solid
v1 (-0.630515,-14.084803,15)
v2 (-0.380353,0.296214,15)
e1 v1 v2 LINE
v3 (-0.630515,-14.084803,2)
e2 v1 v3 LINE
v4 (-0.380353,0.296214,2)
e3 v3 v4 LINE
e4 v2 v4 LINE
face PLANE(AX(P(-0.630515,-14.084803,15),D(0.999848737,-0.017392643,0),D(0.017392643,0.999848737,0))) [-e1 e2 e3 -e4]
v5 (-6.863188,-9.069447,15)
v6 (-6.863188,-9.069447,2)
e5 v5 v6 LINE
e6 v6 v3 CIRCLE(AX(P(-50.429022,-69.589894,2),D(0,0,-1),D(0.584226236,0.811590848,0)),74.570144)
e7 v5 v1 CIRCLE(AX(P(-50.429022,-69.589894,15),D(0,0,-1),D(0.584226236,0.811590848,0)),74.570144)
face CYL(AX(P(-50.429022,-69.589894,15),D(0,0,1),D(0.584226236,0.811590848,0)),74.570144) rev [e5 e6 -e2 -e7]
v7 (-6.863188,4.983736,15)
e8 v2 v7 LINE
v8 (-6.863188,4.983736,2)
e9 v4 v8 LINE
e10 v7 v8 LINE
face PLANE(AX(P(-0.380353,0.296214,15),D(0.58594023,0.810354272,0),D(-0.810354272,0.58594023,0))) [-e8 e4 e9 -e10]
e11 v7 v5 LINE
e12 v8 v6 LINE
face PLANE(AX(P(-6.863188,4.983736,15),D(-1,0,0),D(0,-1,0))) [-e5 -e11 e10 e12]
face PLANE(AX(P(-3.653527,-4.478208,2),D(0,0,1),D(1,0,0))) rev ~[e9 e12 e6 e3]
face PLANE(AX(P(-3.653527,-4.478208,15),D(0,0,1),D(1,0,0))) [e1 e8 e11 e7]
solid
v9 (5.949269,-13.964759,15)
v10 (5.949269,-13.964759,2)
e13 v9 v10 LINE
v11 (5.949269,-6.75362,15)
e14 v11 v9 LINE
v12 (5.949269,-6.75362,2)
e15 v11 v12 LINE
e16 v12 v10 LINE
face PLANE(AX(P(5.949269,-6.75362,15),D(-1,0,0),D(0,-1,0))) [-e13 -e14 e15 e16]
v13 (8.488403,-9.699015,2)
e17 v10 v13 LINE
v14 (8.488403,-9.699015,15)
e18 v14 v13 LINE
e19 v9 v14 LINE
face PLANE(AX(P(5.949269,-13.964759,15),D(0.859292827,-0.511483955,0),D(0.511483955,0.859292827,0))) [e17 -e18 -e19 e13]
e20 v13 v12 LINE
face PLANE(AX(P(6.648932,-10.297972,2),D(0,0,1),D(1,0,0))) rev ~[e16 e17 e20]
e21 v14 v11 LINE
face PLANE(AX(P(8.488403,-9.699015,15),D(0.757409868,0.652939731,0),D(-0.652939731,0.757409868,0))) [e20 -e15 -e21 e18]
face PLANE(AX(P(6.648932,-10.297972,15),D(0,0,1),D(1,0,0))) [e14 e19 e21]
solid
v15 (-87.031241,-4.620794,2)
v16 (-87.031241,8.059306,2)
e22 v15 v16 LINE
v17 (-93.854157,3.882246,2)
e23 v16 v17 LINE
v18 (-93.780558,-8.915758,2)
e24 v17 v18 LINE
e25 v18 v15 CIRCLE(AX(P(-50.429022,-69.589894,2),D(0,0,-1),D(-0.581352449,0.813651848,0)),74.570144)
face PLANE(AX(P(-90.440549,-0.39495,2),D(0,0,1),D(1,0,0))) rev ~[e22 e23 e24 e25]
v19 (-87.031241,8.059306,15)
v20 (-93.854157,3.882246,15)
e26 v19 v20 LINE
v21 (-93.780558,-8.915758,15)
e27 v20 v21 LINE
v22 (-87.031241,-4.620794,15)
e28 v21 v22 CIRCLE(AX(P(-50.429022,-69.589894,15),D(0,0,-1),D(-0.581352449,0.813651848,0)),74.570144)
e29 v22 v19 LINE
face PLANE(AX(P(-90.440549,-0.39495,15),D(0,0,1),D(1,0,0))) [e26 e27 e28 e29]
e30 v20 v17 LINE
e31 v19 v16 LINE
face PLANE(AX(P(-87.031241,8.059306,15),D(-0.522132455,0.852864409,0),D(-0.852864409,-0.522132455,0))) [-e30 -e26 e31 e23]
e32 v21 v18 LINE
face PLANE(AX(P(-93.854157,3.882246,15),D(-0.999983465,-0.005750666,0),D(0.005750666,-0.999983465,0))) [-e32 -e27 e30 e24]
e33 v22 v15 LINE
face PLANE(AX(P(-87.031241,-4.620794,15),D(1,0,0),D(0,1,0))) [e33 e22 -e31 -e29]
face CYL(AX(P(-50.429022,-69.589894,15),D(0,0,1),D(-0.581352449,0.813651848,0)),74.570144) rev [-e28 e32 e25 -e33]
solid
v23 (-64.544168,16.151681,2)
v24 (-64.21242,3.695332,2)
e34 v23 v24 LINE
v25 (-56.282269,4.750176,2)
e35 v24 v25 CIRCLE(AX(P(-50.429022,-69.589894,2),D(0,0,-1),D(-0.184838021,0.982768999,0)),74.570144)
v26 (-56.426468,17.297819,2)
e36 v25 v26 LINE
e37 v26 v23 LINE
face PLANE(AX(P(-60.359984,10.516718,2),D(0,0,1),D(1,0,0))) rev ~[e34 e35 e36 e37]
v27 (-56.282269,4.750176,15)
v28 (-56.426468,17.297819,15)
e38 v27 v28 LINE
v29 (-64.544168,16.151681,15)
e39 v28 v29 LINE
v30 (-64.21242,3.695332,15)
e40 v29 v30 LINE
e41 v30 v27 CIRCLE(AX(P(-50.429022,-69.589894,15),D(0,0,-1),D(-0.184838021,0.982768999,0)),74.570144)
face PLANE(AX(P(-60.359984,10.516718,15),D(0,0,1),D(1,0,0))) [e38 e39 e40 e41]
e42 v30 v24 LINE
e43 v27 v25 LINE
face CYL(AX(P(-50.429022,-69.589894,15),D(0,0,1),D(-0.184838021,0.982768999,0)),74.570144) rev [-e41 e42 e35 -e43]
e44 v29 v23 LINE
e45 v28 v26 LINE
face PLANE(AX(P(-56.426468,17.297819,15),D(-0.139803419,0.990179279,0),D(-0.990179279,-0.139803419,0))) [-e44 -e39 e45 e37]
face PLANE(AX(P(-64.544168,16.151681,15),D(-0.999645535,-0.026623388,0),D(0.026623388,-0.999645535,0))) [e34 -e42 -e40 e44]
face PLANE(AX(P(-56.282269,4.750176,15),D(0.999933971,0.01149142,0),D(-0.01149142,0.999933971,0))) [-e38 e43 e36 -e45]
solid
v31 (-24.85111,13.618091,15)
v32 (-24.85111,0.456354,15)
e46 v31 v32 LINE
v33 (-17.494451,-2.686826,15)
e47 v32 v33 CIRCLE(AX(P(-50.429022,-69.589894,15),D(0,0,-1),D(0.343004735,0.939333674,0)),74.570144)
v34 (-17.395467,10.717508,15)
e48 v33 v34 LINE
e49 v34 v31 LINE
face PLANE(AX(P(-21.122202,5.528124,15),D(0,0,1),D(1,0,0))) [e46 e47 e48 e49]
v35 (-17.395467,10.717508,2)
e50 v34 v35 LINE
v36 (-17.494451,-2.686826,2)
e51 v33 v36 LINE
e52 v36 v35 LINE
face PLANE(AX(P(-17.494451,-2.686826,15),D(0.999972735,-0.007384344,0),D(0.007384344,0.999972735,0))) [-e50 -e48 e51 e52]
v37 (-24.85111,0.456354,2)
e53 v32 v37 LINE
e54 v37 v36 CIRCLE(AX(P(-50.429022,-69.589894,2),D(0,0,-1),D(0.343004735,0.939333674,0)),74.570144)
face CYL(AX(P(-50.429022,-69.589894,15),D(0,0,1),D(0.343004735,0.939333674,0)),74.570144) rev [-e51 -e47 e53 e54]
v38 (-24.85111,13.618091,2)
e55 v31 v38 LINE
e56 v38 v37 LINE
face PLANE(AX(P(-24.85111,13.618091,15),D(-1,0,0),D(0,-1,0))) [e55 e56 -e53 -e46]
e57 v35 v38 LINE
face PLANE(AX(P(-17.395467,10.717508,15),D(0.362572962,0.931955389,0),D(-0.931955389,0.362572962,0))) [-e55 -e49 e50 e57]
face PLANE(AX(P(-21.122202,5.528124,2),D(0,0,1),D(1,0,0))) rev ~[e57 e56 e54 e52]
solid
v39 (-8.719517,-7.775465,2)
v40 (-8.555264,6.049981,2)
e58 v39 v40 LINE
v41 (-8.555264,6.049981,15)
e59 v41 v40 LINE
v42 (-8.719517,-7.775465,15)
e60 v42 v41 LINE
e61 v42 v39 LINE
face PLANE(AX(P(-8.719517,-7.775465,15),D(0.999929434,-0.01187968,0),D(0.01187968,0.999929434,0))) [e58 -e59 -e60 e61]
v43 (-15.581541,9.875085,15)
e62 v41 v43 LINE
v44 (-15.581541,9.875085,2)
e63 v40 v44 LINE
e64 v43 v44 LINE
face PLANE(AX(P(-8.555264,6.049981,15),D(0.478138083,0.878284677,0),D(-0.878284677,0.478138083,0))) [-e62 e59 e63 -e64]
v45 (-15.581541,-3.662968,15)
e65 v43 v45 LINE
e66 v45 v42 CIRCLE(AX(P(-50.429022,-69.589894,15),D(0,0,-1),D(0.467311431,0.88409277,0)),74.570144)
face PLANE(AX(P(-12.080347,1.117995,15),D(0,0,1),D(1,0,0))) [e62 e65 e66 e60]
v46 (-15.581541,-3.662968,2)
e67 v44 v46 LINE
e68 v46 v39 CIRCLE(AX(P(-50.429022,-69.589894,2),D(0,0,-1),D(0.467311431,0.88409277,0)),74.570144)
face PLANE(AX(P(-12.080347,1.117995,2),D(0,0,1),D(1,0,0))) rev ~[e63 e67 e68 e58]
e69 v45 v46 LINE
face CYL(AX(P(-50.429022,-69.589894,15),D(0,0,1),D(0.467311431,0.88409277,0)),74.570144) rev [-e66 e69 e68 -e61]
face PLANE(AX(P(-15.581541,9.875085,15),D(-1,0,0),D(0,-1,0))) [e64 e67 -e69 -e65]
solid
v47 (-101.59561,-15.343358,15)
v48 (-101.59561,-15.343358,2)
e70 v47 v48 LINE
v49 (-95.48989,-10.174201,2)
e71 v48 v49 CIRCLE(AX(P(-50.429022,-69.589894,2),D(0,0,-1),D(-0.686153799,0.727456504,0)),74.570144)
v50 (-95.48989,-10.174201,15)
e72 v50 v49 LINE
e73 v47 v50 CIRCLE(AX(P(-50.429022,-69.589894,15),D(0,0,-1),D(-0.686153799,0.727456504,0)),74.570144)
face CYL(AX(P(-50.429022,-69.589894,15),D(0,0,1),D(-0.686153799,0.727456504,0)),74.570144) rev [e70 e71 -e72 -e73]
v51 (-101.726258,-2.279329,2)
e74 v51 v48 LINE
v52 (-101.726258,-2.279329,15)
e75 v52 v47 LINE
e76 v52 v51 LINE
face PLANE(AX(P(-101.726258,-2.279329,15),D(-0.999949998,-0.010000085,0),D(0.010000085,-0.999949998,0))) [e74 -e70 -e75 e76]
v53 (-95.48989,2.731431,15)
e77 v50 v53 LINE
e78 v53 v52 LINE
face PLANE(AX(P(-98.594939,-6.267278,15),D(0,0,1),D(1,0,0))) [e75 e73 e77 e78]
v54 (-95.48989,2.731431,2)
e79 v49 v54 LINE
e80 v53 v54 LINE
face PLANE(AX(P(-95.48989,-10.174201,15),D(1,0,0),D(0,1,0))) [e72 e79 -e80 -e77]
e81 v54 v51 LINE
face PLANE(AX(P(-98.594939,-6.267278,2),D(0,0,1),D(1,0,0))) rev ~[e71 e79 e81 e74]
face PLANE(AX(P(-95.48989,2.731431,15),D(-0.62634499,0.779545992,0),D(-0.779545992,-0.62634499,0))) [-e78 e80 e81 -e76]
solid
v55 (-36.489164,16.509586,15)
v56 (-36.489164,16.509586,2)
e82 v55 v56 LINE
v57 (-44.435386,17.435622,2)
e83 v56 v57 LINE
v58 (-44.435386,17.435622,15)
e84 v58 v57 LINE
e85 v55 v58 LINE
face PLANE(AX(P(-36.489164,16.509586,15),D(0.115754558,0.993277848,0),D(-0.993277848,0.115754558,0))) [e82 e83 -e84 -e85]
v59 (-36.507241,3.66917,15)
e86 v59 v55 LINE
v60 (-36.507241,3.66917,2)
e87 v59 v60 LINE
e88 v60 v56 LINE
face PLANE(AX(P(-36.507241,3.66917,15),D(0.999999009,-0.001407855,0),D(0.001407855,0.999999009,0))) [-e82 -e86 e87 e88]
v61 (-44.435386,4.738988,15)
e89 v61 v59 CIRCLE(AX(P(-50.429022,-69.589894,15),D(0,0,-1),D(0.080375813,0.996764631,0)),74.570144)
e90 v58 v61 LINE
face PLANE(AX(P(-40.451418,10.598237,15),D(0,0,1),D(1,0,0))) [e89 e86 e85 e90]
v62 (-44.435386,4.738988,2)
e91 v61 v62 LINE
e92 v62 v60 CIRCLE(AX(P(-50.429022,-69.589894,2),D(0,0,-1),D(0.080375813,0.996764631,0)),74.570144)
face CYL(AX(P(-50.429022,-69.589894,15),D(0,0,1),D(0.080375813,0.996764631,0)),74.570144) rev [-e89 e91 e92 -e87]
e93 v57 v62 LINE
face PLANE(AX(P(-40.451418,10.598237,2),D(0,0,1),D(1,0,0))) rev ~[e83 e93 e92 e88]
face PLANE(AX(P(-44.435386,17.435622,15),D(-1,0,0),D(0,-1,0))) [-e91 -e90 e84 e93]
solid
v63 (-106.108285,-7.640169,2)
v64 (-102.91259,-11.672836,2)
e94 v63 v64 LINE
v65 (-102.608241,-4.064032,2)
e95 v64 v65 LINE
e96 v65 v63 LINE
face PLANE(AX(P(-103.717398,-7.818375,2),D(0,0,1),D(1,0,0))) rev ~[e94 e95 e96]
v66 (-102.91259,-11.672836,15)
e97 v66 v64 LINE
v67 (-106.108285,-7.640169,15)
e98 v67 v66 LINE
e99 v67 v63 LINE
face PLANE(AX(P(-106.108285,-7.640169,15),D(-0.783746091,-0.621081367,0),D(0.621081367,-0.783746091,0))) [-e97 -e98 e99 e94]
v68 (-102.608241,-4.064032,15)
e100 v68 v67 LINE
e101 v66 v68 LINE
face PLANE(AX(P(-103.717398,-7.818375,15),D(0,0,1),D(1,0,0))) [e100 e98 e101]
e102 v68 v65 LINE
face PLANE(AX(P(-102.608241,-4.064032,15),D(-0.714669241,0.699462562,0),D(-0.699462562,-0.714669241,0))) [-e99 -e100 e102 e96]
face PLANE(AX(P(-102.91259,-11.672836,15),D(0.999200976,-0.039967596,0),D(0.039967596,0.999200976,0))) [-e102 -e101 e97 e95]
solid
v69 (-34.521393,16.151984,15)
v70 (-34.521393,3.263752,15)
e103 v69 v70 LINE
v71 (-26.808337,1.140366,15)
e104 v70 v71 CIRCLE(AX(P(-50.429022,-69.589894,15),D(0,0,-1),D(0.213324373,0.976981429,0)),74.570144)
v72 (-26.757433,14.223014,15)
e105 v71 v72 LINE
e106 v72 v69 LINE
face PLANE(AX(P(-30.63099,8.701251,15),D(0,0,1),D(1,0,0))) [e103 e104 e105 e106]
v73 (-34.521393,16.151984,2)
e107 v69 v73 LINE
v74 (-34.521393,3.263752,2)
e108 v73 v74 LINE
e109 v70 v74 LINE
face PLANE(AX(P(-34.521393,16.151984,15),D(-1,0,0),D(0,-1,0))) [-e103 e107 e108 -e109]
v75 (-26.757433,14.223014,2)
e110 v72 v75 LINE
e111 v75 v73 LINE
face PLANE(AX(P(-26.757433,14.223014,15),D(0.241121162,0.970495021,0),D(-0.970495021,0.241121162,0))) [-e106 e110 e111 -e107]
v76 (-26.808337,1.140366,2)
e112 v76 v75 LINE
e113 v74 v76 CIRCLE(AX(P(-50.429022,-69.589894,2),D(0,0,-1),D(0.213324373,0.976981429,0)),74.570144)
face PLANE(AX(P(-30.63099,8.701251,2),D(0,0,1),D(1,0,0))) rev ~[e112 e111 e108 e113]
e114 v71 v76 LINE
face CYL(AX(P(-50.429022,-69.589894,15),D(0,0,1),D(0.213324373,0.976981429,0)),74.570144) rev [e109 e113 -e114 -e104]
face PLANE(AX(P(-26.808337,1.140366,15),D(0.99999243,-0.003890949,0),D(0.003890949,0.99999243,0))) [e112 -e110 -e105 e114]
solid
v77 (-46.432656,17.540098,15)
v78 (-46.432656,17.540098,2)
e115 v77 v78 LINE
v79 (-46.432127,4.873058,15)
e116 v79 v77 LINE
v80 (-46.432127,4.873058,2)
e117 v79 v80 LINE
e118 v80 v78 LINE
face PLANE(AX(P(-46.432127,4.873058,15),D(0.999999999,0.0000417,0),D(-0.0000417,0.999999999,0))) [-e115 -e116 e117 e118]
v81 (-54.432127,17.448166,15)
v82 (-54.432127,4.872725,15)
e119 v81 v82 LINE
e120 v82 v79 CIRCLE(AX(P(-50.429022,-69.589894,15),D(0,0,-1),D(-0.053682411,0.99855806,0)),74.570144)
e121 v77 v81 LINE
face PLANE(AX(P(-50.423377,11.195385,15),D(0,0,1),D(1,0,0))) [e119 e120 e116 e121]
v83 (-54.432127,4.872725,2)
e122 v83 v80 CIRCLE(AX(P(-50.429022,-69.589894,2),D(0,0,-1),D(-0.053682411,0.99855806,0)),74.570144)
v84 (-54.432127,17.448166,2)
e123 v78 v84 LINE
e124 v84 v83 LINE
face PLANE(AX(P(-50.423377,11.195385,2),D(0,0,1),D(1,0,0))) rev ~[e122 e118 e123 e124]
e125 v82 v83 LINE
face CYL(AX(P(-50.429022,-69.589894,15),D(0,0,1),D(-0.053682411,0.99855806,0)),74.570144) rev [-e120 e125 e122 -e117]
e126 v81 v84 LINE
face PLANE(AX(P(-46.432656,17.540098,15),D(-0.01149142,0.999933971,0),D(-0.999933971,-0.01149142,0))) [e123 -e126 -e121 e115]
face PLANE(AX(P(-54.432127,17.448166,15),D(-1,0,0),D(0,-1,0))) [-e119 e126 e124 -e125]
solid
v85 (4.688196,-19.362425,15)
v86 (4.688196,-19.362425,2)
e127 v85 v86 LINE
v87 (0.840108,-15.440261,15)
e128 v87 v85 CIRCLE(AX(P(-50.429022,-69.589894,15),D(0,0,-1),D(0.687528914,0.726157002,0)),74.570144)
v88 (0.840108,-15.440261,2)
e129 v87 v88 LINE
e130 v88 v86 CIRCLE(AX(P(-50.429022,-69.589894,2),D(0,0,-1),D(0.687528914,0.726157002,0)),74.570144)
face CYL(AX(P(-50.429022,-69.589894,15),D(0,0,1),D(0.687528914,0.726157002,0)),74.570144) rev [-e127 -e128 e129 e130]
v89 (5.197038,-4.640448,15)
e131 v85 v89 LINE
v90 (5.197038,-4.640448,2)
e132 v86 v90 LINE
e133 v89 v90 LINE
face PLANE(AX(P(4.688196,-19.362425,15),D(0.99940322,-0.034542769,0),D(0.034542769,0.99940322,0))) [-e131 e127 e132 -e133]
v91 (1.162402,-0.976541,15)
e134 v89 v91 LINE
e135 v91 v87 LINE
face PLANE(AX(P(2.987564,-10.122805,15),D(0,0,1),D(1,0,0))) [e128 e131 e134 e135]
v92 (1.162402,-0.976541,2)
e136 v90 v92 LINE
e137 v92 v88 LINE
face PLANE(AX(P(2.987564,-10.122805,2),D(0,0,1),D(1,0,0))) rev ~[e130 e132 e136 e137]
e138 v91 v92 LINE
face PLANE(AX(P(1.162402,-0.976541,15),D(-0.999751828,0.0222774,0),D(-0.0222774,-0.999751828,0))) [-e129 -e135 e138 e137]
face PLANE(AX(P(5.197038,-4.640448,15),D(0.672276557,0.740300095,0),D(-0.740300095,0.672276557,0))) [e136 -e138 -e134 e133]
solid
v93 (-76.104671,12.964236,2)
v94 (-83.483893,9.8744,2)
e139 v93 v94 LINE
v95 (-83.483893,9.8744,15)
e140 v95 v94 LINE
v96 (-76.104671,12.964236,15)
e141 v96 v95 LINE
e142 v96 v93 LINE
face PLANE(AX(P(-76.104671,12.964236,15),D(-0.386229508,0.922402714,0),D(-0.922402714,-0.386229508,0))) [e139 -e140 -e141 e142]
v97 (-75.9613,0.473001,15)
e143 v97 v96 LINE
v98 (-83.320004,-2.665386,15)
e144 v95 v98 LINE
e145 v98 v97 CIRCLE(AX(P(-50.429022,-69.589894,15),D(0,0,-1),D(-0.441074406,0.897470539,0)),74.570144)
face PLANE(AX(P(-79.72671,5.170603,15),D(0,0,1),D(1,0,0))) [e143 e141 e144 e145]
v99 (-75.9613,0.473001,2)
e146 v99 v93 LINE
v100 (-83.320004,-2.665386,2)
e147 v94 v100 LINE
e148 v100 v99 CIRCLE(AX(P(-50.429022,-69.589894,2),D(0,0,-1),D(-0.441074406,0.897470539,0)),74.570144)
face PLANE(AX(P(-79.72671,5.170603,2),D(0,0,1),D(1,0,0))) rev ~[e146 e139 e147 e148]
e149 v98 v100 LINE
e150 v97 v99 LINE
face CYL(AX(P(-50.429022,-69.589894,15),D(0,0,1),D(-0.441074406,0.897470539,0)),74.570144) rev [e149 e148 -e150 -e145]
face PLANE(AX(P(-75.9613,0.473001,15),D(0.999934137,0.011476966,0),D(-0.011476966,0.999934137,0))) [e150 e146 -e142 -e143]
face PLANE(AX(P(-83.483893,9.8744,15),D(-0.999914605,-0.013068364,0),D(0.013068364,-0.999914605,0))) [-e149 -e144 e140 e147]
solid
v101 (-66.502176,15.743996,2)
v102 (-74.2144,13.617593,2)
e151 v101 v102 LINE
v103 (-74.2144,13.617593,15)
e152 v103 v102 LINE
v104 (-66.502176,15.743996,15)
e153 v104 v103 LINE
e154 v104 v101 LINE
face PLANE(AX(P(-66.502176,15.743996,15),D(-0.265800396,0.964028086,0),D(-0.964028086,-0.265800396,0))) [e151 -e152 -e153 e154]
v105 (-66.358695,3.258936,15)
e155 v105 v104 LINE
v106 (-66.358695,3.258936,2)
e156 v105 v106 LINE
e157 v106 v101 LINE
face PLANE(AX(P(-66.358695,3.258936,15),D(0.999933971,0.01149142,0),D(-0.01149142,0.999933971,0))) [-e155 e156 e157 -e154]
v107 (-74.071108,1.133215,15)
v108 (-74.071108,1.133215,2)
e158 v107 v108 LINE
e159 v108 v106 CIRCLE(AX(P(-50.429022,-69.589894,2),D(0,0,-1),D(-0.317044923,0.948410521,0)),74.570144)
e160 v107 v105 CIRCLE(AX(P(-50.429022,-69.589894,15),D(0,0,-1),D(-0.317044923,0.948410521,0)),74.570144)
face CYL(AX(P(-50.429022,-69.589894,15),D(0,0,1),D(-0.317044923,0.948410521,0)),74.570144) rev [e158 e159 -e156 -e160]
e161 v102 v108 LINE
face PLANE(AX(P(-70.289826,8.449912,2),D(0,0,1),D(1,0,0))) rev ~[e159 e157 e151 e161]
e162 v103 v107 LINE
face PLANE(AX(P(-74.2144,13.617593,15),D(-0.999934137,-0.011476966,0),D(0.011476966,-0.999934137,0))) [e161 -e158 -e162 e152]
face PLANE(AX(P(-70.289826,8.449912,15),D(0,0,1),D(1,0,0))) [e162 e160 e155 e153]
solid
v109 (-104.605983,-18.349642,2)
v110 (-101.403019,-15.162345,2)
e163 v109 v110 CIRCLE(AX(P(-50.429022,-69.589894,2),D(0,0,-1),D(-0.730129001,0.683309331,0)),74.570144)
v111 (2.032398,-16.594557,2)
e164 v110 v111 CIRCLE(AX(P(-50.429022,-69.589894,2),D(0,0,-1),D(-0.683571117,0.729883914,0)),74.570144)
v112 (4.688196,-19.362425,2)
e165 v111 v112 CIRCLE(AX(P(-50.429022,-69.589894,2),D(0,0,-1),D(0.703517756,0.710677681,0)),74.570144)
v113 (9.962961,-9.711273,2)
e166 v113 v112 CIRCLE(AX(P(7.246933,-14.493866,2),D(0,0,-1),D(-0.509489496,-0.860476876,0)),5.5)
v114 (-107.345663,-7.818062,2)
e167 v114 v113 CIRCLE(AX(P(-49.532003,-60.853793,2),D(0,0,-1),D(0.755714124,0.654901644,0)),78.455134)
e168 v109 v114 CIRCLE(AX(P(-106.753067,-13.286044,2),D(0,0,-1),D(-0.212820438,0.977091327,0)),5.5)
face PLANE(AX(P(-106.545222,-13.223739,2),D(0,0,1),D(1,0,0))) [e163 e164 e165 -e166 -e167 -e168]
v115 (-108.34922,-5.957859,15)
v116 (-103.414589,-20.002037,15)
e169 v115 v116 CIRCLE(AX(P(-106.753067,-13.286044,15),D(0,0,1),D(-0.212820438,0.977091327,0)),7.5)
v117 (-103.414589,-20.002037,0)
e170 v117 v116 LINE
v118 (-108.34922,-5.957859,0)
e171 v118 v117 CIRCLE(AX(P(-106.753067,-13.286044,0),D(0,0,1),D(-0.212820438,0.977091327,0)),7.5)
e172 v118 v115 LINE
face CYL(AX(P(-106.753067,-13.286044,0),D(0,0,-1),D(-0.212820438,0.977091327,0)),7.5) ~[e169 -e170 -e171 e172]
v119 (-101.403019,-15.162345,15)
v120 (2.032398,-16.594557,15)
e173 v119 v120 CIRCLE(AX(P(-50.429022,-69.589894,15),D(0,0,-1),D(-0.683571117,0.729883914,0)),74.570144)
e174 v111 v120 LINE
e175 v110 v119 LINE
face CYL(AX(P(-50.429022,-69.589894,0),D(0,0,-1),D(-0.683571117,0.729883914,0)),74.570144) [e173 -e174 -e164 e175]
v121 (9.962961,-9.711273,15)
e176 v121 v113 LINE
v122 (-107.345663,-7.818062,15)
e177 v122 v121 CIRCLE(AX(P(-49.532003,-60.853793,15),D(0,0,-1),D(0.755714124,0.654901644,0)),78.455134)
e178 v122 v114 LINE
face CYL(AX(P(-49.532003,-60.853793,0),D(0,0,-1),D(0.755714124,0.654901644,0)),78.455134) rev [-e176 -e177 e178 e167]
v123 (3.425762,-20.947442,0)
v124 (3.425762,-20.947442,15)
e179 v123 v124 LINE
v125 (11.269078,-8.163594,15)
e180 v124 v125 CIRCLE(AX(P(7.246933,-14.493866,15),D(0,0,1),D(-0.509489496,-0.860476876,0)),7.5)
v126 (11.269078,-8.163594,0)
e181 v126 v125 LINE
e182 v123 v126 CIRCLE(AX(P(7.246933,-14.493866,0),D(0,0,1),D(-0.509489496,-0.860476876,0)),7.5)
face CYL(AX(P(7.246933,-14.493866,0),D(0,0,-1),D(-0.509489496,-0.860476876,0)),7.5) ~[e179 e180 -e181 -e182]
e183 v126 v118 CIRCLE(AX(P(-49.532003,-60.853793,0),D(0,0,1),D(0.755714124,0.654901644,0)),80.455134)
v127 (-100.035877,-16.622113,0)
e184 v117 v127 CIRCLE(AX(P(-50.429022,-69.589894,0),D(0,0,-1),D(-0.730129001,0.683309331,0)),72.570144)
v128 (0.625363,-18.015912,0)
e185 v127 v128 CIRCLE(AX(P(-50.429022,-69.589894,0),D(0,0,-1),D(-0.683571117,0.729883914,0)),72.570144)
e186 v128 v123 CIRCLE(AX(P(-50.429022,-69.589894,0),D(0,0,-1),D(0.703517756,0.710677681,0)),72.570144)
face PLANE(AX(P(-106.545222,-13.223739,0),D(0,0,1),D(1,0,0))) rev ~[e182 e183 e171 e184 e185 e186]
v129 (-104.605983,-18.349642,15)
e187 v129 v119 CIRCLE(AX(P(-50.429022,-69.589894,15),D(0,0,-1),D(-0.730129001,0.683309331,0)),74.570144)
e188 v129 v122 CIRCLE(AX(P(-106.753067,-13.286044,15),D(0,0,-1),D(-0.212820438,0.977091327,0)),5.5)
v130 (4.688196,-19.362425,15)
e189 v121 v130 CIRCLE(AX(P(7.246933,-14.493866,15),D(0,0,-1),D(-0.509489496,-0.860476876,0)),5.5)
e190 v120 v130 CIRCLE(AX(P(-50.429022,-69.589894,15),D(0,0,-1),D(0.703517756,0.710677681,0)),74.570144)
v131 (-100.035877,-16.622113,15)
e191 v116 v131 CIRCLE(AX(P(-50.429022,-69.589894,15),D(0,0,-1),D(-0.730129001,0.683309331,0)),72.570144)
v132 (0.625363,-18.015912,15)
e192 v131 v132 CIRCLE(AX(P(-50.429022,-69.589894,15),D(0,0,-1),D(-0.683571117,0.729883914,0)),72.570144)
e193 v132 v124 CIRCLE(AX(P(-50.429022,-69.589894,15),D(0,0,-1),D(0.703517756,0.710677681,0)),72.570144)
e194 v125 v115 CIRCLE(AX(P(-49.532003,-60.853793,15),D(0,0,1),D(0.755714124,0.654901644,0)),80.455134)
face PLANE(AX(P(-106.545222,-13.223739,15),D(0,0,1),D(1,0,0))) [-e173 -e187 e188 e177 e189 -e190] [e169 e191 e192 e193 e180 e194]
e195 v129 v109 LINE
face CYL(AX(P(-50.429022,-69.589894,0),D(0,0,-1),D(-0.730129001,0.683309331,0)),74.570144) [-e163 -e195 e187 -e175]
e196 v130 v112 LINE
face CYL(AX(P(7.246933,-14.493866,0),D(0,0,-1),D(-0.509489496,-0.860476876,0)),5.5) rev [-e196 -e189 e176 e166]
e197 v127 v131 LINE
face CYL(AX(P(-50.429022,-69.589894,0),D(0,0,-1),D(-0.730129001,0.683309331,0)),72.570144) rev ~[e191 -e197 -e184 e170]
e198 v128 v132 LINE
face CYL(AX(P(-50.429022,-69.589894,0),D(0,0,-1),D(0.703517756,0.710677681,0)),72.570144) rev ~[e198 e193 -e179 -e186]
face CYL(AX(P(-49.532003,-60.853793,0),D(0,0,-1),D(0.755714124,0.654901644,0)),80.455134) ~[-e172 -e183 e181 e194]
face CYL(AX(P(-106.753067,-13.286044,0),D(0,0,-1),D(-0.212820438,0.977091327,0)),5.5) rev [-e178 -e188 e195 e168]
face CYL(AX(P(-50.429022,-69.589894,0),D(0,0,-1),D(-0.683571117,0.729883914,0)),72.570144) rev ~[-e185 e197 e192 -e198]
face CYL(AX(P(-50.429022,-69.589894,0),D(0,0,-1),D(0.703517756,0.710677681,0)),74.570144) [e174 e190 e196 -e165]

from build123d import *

# Parameters (mm, degrees)
F1_DEPTH = 15
F2_T     = -2
F4_DEPTH = 13


with BuildPart() as f1:
    # F0 (on Top) → F1 (new body)
    with BuildSketch(Plane.XY):
        with BuildLine():
            ThreePointArc((-103.4145893394, -20.0020372304), (-101.7530636303, -18.2842545923), (-100.0358769395, -16.622112979))
            ThreePointArc((-100.0358769395, -16.622112979), (-100.8380156497, -8.6749521659), (-108.3492203393, -5.9578589379))
            ThreePointArc((-108.3492203393, -5.9578589379), (-113.8289881657, -15.7722740518), (-103.4145893394, -20.0020372304))
        make_face()
        with BuildLine():
            ThreePointArc((-108.3492203393, -5.9578589379), (-100.8380156497, -8.6749521659), (-100.0358769395, -16.622112979))
            ThreePointArc((-100.0358769395, -16.622112979), (-49.4242809896, 2.9732946618), (0.62536283, -18.0159120585))
            ThreePointArc((0.62536283, -18.0159120585), (2.1522005977, -8.98989439), (11.2690780996, -8.1635935155))
            ThreePointArc((11.2690780996, -8.1635935155), (-48.0486807446, 19.5876661754), (-108.3492203393, -5.9578589379))
        make_face()
        with BuildLine():
            ThreePointArc((11.2690780996, -8.1635935155), (2.1522005977, -8.98989439), (0.62536283, -18.0159120585))
            ThreePointArc((0.62536283, -18.0159120585), (2.0460375935, -19.4621178326), (3.4257617252, -20.9474424588))
            ThreePointArc((3.4257617252, -20.9474424588), (13.6396472431, -18.4160086635), (11.2690780996, -8.1635935155))
        make_face()
    extrude(amount=F1_DEPTH)

    # F2
    f2_openings = [f1.faces().sort_by_distance(p)[0] for p in [
        (-49.774898, 4.332759, 15),
    ]]
    offset(amount=F2_T, openings=f2_openings, kind=Kind.INTERSECTION)


with BuildPart() as f4:
    # F3 (on face) → F4 (new body, through all)
    with BuildSketch(Plane.XY.offset(15)):
        with BuildLine():
            Line((-95.4898901075, -10.1742005895), (-95.4898901075, 2.7314309094))
            Line((-95.4898901075, 2.7314309094), (-101.7262580431, -2.2793290103))
            Line((-101.7262580431, -2.2793290103), (-101.5956101166, -15.3433575005))
            ThreePointArc((-101.5956101166, -15.3433575005), (-98.6121194375, -12.6768411805), (-95.4898901075, -10.1742005895))
        make_face()
    extrude(amount=-F4_DEPTH)


with BuildPart() as f4b:
    # F3 (on face) → F4, piece 2 (new body, through all)
    with BuildSketch(Plane.XY.offset(15)):
        with BuildLine():
            Line((-87.0312413723, -4.6207937288), (-87.0312413723, 8.0593059238))
            Line((-87.0312413723, 8.0593059238), (-93.8541566424, 3.882246286))
            Line((-93.8541566424, 3.882246286), (-93.7805583698, -8.9157582301))
            ThreePointArc((-93.7805583698, -8.9157582301), (-90.463537663, -6.677701138), (-87.0312413723, -4.6207937288))
        make_face()
    extrude(amount=-F4_DEPTH)


with BuildPart() as f4c:
    # F3 (on face) → F4, piece 3 (new body, through all)
    with BuildSketch(Plane.XY.offset(15)):
        with BuildLine():
            Line((-75.9613002437, 0.4730007029), (-76.1046711734, 12.9642358404))
            Line((-76.1046711734, 12.9642358404), (-83.4838928856, 9.8743997731))
            Line((-83.4838928856, 9.8743997731), (-83.3200044003, -2.6653863247))
            ThreePointArc((-83.3200044003, -2.6653863247), (-79.6827690143, -0.9974400834), (-75.9613002437, 0.4730007029))
        make_face()
    extrude(amount=-F4_DEPTH)


with BuildPart() as f4d:
    # F3 (on face) → F4, piece 4 (new body, through all)
    with BuildSketch(Plane.XY.offset(15)):
        with BuildLine():
            Line((-66.3586949755, 3.258935501), (-66.5021755213, 15.7439962339))
            Line((-66.5021755213, 15.7439962339), (-74.2144002054, 13.6175930684))
            Line((-74.2144002054, 13.6175930684), (-74.0711079848, 1.1332154879))
            ThreePointArc((-74.0711079848, 1.1332154879), (-70.24342833, 2.2995749427), (-66.3586949755, 3.258935501))
        make_face()
    extrude(amount=-F4_DEPTH)


with BuildPart() as f4e:
    # F3 (on face) → F4, piece 5 (new body, through all)
    with BuildSketch(Plane.XY.offset(15)):
        with BuildLine():
            Line((-56.2822685579, 4.7501755422), (-56.4264683123, 17.2978187198))
            Line((-56.4264683123, 17.2978187198), (-64.5441680089, 16.1516806479))
            Line((-64.5441680089, 16.1516806479), (-64.2124202231, 3.6953321573))
            ThreePointArc((-64.2124202231, 3.6953321573), (-60.2615002336, 4.3291753187), (-56.2822685579, 4.7501755422))
        make_face()
    extrude(amount=-F4_DEPTH)


with BuildPart() as f4f:
    # F3 (on face) → F4, piece 6 (new body, through all)
    with BuildSketch(Plane.XY.offset(15)):
        with BuildLine():
            Line((-46.4326556534, 17.5400977585), (-54.4321274251, 17.4481664014))
            Line((-54.4321274251, 17.4481664014), (-54.4321274251, 4.8727246799))
            ThreePointArc((-54.4321274251, 4.8727246799), (-50.4321319055, 4.980250305), (-46.432127432, 4.8730582835))
            Line((-46.432127432, 4.8730582835), (-46.4326556534, 17.5400977585))
        make_face()
    extrude(amount=-F4_DEPTH)


with BuildPart() as f4g:
    # F3 (on face) → F4, piece 7 (new body, through all)
    with BuildSketch(Plane.XY.offset(15)):
        with BuildLine():
            Line((-36.4891635139, 16.5095859122), (-44.435386294, 17.4356223741))
            Line((-44.435386294, 17.4356223741), (-44.435386294, 4.7389883998))
            ThreePointArc((-44.435386294, 4.7389883999), (-40.4569568247, 4.3104736687), (-36.5072409706, 3.6691698492))
            Line((-36.5072409706, 3.6691698492), (-36.4891635139, 16.5095859122))
        make_face()
    extrude(amount=-F4_DEPTH)


with BuildPart() as f4h:
    # F3 (on face) → F4, piece 8 (new body, through all)
    with BuildSketch(Plane.XY.offset(15)):
        with BuildLine():
            Line((-26.7574328685, 14.223014409), (-34.5213930336, 16.1519837075))
            Line((-34.5213930336, 16.1519837075), (-34.5213930336, 3.2637521859))
            ThreePointArc((-34.5213930336, 3.2637521859), (-30.6363695723, 2.3055671189), (-26.8083371744, 1.1403659015))
            Line((-26.8083371744, 1.1403659014), (-26.7574328685, 14.223014409))
        make_face()
    extrude(amount=-F4_DEPTH)


with BuildPart() as f4i:
    # F3 (on face) → F4, piece 9 (new body, through all)
    with BuildSketch(Plane.XY.offset(15)):
        with BuildLine():
            Line((-17.3954665655, 10.7175076645), (-24.8511096793, 13.6180913574))
            Line((-24.8511096793, 13.6180913574), (-24.8511096793, 0.4563537047))
            ThreePointArc((-24.8511096793, 0.4563537047), (-21.1305995668, -1.0165109937), (-17.4944514793, -2.6868262342))
            Line((-17.4944514793, -2.6868262343), (-17.3954665655, 10.7175076645))
        make_face()
    extrude(amount=-F4_DEPTH)


with BuildPart() as f4j:
    # F3 (on face) → F4, piece 10 (new body, through all)
    with BuildSketch(Plane.XY.offset(15)):
        with BuildLine():
            Line((-8.5552640176, 6.0499805347), (-15.581541431, 9.8750852013))
            Line((-15.581541431, 9.8750852013), (-15.581541431, -3.6629684785))
            ThreePointArc((-15.581541431, -3.6629684785), (-12.0953403549, -5.6271293615), (-8.7195174744, -7.775464949))
            Line((-8.7195174744, -7.775464949), (-8.5552640176, 6.0499805347))
        make_face()
    extrude(amount=-F4_DEPTH)


with BuildPart() as f4k:
    # F3 (on face) → F4, piece 11 (new body, through all)
    with BuildSketch(Plane.XY.offset(15)):
        with BuildLine():
            Line((-0.3803533632, 0.2962142563), (-6.863187541, 4.9837360987))
            Line((-6.863187541, 4.9837360987), (-6.863187541, -9.0694472612))
            ThreePointArc((-6.863187541, -9.0694472612), (-3.6795459884, -11.4934836433), (-0.6305151118, -14.08480312))
            Line((-0.6305151118, -14.08480312), (-0.3803533632, 0.2962142563))
        make_face()
    extrude(amount=-F4_DEPTH)


with BuildPart() as f4l:
    # F3 (on face) → F4, piece 12 (new body, through all)
    with BuildSketch(Plane.XY.offset(15)):
        with BuildLine():
            Line((5.1970376847, -4.6404480133), (1.1624021679, -0.9765407756))
            Line((1.1624021679, -0.9765407756), (0.8401080904, -15.4402614916))
            ThreePointArc((0.8401080904, -15.4402614916), (2.8002896228, -17.3658881786), (4.6881961793, -19.3624248329))
            Line((4.6881961792, -19.3624248328), (5.1970376847, -4.6404480133))
        make_face()
    extrude(amount=-F4_DEPTH)


with BuildPart() as f4m:
    # F3 (on face) → F4, piece 13 (new body, through all)
    with BuildSketch(Plane.XY.offset(15)):
        Polygon((8.4884027019, -9.6990149468), (5.9492685832, -6.7536202259), (5.9492685832, -13.9647591859), align=None)
    extrude(amount=-F4_DEPTH)


with BuildPart() as f4n:
    # F3 (on face) → F4, piece 14 (new body, through all)
    with BuildSketch(Plane.XY.offset(15)):
        Polygon((-102.9125899076, -11.6728357971), (-102.6082411408, -4.0640323423), (-106.1082854867, -7.6401694678), align=None)
    extrude(amount=-F4_DEPTH)


solid = Compound([f1.part, f4.part, f4b.part, f4c.part, f4d.part, f4e.part, f4f.part, f4g.part, f4h.part, f4i.part, f4j.part, f4k.part, f4l.part, f4m.part, f4n.part])
